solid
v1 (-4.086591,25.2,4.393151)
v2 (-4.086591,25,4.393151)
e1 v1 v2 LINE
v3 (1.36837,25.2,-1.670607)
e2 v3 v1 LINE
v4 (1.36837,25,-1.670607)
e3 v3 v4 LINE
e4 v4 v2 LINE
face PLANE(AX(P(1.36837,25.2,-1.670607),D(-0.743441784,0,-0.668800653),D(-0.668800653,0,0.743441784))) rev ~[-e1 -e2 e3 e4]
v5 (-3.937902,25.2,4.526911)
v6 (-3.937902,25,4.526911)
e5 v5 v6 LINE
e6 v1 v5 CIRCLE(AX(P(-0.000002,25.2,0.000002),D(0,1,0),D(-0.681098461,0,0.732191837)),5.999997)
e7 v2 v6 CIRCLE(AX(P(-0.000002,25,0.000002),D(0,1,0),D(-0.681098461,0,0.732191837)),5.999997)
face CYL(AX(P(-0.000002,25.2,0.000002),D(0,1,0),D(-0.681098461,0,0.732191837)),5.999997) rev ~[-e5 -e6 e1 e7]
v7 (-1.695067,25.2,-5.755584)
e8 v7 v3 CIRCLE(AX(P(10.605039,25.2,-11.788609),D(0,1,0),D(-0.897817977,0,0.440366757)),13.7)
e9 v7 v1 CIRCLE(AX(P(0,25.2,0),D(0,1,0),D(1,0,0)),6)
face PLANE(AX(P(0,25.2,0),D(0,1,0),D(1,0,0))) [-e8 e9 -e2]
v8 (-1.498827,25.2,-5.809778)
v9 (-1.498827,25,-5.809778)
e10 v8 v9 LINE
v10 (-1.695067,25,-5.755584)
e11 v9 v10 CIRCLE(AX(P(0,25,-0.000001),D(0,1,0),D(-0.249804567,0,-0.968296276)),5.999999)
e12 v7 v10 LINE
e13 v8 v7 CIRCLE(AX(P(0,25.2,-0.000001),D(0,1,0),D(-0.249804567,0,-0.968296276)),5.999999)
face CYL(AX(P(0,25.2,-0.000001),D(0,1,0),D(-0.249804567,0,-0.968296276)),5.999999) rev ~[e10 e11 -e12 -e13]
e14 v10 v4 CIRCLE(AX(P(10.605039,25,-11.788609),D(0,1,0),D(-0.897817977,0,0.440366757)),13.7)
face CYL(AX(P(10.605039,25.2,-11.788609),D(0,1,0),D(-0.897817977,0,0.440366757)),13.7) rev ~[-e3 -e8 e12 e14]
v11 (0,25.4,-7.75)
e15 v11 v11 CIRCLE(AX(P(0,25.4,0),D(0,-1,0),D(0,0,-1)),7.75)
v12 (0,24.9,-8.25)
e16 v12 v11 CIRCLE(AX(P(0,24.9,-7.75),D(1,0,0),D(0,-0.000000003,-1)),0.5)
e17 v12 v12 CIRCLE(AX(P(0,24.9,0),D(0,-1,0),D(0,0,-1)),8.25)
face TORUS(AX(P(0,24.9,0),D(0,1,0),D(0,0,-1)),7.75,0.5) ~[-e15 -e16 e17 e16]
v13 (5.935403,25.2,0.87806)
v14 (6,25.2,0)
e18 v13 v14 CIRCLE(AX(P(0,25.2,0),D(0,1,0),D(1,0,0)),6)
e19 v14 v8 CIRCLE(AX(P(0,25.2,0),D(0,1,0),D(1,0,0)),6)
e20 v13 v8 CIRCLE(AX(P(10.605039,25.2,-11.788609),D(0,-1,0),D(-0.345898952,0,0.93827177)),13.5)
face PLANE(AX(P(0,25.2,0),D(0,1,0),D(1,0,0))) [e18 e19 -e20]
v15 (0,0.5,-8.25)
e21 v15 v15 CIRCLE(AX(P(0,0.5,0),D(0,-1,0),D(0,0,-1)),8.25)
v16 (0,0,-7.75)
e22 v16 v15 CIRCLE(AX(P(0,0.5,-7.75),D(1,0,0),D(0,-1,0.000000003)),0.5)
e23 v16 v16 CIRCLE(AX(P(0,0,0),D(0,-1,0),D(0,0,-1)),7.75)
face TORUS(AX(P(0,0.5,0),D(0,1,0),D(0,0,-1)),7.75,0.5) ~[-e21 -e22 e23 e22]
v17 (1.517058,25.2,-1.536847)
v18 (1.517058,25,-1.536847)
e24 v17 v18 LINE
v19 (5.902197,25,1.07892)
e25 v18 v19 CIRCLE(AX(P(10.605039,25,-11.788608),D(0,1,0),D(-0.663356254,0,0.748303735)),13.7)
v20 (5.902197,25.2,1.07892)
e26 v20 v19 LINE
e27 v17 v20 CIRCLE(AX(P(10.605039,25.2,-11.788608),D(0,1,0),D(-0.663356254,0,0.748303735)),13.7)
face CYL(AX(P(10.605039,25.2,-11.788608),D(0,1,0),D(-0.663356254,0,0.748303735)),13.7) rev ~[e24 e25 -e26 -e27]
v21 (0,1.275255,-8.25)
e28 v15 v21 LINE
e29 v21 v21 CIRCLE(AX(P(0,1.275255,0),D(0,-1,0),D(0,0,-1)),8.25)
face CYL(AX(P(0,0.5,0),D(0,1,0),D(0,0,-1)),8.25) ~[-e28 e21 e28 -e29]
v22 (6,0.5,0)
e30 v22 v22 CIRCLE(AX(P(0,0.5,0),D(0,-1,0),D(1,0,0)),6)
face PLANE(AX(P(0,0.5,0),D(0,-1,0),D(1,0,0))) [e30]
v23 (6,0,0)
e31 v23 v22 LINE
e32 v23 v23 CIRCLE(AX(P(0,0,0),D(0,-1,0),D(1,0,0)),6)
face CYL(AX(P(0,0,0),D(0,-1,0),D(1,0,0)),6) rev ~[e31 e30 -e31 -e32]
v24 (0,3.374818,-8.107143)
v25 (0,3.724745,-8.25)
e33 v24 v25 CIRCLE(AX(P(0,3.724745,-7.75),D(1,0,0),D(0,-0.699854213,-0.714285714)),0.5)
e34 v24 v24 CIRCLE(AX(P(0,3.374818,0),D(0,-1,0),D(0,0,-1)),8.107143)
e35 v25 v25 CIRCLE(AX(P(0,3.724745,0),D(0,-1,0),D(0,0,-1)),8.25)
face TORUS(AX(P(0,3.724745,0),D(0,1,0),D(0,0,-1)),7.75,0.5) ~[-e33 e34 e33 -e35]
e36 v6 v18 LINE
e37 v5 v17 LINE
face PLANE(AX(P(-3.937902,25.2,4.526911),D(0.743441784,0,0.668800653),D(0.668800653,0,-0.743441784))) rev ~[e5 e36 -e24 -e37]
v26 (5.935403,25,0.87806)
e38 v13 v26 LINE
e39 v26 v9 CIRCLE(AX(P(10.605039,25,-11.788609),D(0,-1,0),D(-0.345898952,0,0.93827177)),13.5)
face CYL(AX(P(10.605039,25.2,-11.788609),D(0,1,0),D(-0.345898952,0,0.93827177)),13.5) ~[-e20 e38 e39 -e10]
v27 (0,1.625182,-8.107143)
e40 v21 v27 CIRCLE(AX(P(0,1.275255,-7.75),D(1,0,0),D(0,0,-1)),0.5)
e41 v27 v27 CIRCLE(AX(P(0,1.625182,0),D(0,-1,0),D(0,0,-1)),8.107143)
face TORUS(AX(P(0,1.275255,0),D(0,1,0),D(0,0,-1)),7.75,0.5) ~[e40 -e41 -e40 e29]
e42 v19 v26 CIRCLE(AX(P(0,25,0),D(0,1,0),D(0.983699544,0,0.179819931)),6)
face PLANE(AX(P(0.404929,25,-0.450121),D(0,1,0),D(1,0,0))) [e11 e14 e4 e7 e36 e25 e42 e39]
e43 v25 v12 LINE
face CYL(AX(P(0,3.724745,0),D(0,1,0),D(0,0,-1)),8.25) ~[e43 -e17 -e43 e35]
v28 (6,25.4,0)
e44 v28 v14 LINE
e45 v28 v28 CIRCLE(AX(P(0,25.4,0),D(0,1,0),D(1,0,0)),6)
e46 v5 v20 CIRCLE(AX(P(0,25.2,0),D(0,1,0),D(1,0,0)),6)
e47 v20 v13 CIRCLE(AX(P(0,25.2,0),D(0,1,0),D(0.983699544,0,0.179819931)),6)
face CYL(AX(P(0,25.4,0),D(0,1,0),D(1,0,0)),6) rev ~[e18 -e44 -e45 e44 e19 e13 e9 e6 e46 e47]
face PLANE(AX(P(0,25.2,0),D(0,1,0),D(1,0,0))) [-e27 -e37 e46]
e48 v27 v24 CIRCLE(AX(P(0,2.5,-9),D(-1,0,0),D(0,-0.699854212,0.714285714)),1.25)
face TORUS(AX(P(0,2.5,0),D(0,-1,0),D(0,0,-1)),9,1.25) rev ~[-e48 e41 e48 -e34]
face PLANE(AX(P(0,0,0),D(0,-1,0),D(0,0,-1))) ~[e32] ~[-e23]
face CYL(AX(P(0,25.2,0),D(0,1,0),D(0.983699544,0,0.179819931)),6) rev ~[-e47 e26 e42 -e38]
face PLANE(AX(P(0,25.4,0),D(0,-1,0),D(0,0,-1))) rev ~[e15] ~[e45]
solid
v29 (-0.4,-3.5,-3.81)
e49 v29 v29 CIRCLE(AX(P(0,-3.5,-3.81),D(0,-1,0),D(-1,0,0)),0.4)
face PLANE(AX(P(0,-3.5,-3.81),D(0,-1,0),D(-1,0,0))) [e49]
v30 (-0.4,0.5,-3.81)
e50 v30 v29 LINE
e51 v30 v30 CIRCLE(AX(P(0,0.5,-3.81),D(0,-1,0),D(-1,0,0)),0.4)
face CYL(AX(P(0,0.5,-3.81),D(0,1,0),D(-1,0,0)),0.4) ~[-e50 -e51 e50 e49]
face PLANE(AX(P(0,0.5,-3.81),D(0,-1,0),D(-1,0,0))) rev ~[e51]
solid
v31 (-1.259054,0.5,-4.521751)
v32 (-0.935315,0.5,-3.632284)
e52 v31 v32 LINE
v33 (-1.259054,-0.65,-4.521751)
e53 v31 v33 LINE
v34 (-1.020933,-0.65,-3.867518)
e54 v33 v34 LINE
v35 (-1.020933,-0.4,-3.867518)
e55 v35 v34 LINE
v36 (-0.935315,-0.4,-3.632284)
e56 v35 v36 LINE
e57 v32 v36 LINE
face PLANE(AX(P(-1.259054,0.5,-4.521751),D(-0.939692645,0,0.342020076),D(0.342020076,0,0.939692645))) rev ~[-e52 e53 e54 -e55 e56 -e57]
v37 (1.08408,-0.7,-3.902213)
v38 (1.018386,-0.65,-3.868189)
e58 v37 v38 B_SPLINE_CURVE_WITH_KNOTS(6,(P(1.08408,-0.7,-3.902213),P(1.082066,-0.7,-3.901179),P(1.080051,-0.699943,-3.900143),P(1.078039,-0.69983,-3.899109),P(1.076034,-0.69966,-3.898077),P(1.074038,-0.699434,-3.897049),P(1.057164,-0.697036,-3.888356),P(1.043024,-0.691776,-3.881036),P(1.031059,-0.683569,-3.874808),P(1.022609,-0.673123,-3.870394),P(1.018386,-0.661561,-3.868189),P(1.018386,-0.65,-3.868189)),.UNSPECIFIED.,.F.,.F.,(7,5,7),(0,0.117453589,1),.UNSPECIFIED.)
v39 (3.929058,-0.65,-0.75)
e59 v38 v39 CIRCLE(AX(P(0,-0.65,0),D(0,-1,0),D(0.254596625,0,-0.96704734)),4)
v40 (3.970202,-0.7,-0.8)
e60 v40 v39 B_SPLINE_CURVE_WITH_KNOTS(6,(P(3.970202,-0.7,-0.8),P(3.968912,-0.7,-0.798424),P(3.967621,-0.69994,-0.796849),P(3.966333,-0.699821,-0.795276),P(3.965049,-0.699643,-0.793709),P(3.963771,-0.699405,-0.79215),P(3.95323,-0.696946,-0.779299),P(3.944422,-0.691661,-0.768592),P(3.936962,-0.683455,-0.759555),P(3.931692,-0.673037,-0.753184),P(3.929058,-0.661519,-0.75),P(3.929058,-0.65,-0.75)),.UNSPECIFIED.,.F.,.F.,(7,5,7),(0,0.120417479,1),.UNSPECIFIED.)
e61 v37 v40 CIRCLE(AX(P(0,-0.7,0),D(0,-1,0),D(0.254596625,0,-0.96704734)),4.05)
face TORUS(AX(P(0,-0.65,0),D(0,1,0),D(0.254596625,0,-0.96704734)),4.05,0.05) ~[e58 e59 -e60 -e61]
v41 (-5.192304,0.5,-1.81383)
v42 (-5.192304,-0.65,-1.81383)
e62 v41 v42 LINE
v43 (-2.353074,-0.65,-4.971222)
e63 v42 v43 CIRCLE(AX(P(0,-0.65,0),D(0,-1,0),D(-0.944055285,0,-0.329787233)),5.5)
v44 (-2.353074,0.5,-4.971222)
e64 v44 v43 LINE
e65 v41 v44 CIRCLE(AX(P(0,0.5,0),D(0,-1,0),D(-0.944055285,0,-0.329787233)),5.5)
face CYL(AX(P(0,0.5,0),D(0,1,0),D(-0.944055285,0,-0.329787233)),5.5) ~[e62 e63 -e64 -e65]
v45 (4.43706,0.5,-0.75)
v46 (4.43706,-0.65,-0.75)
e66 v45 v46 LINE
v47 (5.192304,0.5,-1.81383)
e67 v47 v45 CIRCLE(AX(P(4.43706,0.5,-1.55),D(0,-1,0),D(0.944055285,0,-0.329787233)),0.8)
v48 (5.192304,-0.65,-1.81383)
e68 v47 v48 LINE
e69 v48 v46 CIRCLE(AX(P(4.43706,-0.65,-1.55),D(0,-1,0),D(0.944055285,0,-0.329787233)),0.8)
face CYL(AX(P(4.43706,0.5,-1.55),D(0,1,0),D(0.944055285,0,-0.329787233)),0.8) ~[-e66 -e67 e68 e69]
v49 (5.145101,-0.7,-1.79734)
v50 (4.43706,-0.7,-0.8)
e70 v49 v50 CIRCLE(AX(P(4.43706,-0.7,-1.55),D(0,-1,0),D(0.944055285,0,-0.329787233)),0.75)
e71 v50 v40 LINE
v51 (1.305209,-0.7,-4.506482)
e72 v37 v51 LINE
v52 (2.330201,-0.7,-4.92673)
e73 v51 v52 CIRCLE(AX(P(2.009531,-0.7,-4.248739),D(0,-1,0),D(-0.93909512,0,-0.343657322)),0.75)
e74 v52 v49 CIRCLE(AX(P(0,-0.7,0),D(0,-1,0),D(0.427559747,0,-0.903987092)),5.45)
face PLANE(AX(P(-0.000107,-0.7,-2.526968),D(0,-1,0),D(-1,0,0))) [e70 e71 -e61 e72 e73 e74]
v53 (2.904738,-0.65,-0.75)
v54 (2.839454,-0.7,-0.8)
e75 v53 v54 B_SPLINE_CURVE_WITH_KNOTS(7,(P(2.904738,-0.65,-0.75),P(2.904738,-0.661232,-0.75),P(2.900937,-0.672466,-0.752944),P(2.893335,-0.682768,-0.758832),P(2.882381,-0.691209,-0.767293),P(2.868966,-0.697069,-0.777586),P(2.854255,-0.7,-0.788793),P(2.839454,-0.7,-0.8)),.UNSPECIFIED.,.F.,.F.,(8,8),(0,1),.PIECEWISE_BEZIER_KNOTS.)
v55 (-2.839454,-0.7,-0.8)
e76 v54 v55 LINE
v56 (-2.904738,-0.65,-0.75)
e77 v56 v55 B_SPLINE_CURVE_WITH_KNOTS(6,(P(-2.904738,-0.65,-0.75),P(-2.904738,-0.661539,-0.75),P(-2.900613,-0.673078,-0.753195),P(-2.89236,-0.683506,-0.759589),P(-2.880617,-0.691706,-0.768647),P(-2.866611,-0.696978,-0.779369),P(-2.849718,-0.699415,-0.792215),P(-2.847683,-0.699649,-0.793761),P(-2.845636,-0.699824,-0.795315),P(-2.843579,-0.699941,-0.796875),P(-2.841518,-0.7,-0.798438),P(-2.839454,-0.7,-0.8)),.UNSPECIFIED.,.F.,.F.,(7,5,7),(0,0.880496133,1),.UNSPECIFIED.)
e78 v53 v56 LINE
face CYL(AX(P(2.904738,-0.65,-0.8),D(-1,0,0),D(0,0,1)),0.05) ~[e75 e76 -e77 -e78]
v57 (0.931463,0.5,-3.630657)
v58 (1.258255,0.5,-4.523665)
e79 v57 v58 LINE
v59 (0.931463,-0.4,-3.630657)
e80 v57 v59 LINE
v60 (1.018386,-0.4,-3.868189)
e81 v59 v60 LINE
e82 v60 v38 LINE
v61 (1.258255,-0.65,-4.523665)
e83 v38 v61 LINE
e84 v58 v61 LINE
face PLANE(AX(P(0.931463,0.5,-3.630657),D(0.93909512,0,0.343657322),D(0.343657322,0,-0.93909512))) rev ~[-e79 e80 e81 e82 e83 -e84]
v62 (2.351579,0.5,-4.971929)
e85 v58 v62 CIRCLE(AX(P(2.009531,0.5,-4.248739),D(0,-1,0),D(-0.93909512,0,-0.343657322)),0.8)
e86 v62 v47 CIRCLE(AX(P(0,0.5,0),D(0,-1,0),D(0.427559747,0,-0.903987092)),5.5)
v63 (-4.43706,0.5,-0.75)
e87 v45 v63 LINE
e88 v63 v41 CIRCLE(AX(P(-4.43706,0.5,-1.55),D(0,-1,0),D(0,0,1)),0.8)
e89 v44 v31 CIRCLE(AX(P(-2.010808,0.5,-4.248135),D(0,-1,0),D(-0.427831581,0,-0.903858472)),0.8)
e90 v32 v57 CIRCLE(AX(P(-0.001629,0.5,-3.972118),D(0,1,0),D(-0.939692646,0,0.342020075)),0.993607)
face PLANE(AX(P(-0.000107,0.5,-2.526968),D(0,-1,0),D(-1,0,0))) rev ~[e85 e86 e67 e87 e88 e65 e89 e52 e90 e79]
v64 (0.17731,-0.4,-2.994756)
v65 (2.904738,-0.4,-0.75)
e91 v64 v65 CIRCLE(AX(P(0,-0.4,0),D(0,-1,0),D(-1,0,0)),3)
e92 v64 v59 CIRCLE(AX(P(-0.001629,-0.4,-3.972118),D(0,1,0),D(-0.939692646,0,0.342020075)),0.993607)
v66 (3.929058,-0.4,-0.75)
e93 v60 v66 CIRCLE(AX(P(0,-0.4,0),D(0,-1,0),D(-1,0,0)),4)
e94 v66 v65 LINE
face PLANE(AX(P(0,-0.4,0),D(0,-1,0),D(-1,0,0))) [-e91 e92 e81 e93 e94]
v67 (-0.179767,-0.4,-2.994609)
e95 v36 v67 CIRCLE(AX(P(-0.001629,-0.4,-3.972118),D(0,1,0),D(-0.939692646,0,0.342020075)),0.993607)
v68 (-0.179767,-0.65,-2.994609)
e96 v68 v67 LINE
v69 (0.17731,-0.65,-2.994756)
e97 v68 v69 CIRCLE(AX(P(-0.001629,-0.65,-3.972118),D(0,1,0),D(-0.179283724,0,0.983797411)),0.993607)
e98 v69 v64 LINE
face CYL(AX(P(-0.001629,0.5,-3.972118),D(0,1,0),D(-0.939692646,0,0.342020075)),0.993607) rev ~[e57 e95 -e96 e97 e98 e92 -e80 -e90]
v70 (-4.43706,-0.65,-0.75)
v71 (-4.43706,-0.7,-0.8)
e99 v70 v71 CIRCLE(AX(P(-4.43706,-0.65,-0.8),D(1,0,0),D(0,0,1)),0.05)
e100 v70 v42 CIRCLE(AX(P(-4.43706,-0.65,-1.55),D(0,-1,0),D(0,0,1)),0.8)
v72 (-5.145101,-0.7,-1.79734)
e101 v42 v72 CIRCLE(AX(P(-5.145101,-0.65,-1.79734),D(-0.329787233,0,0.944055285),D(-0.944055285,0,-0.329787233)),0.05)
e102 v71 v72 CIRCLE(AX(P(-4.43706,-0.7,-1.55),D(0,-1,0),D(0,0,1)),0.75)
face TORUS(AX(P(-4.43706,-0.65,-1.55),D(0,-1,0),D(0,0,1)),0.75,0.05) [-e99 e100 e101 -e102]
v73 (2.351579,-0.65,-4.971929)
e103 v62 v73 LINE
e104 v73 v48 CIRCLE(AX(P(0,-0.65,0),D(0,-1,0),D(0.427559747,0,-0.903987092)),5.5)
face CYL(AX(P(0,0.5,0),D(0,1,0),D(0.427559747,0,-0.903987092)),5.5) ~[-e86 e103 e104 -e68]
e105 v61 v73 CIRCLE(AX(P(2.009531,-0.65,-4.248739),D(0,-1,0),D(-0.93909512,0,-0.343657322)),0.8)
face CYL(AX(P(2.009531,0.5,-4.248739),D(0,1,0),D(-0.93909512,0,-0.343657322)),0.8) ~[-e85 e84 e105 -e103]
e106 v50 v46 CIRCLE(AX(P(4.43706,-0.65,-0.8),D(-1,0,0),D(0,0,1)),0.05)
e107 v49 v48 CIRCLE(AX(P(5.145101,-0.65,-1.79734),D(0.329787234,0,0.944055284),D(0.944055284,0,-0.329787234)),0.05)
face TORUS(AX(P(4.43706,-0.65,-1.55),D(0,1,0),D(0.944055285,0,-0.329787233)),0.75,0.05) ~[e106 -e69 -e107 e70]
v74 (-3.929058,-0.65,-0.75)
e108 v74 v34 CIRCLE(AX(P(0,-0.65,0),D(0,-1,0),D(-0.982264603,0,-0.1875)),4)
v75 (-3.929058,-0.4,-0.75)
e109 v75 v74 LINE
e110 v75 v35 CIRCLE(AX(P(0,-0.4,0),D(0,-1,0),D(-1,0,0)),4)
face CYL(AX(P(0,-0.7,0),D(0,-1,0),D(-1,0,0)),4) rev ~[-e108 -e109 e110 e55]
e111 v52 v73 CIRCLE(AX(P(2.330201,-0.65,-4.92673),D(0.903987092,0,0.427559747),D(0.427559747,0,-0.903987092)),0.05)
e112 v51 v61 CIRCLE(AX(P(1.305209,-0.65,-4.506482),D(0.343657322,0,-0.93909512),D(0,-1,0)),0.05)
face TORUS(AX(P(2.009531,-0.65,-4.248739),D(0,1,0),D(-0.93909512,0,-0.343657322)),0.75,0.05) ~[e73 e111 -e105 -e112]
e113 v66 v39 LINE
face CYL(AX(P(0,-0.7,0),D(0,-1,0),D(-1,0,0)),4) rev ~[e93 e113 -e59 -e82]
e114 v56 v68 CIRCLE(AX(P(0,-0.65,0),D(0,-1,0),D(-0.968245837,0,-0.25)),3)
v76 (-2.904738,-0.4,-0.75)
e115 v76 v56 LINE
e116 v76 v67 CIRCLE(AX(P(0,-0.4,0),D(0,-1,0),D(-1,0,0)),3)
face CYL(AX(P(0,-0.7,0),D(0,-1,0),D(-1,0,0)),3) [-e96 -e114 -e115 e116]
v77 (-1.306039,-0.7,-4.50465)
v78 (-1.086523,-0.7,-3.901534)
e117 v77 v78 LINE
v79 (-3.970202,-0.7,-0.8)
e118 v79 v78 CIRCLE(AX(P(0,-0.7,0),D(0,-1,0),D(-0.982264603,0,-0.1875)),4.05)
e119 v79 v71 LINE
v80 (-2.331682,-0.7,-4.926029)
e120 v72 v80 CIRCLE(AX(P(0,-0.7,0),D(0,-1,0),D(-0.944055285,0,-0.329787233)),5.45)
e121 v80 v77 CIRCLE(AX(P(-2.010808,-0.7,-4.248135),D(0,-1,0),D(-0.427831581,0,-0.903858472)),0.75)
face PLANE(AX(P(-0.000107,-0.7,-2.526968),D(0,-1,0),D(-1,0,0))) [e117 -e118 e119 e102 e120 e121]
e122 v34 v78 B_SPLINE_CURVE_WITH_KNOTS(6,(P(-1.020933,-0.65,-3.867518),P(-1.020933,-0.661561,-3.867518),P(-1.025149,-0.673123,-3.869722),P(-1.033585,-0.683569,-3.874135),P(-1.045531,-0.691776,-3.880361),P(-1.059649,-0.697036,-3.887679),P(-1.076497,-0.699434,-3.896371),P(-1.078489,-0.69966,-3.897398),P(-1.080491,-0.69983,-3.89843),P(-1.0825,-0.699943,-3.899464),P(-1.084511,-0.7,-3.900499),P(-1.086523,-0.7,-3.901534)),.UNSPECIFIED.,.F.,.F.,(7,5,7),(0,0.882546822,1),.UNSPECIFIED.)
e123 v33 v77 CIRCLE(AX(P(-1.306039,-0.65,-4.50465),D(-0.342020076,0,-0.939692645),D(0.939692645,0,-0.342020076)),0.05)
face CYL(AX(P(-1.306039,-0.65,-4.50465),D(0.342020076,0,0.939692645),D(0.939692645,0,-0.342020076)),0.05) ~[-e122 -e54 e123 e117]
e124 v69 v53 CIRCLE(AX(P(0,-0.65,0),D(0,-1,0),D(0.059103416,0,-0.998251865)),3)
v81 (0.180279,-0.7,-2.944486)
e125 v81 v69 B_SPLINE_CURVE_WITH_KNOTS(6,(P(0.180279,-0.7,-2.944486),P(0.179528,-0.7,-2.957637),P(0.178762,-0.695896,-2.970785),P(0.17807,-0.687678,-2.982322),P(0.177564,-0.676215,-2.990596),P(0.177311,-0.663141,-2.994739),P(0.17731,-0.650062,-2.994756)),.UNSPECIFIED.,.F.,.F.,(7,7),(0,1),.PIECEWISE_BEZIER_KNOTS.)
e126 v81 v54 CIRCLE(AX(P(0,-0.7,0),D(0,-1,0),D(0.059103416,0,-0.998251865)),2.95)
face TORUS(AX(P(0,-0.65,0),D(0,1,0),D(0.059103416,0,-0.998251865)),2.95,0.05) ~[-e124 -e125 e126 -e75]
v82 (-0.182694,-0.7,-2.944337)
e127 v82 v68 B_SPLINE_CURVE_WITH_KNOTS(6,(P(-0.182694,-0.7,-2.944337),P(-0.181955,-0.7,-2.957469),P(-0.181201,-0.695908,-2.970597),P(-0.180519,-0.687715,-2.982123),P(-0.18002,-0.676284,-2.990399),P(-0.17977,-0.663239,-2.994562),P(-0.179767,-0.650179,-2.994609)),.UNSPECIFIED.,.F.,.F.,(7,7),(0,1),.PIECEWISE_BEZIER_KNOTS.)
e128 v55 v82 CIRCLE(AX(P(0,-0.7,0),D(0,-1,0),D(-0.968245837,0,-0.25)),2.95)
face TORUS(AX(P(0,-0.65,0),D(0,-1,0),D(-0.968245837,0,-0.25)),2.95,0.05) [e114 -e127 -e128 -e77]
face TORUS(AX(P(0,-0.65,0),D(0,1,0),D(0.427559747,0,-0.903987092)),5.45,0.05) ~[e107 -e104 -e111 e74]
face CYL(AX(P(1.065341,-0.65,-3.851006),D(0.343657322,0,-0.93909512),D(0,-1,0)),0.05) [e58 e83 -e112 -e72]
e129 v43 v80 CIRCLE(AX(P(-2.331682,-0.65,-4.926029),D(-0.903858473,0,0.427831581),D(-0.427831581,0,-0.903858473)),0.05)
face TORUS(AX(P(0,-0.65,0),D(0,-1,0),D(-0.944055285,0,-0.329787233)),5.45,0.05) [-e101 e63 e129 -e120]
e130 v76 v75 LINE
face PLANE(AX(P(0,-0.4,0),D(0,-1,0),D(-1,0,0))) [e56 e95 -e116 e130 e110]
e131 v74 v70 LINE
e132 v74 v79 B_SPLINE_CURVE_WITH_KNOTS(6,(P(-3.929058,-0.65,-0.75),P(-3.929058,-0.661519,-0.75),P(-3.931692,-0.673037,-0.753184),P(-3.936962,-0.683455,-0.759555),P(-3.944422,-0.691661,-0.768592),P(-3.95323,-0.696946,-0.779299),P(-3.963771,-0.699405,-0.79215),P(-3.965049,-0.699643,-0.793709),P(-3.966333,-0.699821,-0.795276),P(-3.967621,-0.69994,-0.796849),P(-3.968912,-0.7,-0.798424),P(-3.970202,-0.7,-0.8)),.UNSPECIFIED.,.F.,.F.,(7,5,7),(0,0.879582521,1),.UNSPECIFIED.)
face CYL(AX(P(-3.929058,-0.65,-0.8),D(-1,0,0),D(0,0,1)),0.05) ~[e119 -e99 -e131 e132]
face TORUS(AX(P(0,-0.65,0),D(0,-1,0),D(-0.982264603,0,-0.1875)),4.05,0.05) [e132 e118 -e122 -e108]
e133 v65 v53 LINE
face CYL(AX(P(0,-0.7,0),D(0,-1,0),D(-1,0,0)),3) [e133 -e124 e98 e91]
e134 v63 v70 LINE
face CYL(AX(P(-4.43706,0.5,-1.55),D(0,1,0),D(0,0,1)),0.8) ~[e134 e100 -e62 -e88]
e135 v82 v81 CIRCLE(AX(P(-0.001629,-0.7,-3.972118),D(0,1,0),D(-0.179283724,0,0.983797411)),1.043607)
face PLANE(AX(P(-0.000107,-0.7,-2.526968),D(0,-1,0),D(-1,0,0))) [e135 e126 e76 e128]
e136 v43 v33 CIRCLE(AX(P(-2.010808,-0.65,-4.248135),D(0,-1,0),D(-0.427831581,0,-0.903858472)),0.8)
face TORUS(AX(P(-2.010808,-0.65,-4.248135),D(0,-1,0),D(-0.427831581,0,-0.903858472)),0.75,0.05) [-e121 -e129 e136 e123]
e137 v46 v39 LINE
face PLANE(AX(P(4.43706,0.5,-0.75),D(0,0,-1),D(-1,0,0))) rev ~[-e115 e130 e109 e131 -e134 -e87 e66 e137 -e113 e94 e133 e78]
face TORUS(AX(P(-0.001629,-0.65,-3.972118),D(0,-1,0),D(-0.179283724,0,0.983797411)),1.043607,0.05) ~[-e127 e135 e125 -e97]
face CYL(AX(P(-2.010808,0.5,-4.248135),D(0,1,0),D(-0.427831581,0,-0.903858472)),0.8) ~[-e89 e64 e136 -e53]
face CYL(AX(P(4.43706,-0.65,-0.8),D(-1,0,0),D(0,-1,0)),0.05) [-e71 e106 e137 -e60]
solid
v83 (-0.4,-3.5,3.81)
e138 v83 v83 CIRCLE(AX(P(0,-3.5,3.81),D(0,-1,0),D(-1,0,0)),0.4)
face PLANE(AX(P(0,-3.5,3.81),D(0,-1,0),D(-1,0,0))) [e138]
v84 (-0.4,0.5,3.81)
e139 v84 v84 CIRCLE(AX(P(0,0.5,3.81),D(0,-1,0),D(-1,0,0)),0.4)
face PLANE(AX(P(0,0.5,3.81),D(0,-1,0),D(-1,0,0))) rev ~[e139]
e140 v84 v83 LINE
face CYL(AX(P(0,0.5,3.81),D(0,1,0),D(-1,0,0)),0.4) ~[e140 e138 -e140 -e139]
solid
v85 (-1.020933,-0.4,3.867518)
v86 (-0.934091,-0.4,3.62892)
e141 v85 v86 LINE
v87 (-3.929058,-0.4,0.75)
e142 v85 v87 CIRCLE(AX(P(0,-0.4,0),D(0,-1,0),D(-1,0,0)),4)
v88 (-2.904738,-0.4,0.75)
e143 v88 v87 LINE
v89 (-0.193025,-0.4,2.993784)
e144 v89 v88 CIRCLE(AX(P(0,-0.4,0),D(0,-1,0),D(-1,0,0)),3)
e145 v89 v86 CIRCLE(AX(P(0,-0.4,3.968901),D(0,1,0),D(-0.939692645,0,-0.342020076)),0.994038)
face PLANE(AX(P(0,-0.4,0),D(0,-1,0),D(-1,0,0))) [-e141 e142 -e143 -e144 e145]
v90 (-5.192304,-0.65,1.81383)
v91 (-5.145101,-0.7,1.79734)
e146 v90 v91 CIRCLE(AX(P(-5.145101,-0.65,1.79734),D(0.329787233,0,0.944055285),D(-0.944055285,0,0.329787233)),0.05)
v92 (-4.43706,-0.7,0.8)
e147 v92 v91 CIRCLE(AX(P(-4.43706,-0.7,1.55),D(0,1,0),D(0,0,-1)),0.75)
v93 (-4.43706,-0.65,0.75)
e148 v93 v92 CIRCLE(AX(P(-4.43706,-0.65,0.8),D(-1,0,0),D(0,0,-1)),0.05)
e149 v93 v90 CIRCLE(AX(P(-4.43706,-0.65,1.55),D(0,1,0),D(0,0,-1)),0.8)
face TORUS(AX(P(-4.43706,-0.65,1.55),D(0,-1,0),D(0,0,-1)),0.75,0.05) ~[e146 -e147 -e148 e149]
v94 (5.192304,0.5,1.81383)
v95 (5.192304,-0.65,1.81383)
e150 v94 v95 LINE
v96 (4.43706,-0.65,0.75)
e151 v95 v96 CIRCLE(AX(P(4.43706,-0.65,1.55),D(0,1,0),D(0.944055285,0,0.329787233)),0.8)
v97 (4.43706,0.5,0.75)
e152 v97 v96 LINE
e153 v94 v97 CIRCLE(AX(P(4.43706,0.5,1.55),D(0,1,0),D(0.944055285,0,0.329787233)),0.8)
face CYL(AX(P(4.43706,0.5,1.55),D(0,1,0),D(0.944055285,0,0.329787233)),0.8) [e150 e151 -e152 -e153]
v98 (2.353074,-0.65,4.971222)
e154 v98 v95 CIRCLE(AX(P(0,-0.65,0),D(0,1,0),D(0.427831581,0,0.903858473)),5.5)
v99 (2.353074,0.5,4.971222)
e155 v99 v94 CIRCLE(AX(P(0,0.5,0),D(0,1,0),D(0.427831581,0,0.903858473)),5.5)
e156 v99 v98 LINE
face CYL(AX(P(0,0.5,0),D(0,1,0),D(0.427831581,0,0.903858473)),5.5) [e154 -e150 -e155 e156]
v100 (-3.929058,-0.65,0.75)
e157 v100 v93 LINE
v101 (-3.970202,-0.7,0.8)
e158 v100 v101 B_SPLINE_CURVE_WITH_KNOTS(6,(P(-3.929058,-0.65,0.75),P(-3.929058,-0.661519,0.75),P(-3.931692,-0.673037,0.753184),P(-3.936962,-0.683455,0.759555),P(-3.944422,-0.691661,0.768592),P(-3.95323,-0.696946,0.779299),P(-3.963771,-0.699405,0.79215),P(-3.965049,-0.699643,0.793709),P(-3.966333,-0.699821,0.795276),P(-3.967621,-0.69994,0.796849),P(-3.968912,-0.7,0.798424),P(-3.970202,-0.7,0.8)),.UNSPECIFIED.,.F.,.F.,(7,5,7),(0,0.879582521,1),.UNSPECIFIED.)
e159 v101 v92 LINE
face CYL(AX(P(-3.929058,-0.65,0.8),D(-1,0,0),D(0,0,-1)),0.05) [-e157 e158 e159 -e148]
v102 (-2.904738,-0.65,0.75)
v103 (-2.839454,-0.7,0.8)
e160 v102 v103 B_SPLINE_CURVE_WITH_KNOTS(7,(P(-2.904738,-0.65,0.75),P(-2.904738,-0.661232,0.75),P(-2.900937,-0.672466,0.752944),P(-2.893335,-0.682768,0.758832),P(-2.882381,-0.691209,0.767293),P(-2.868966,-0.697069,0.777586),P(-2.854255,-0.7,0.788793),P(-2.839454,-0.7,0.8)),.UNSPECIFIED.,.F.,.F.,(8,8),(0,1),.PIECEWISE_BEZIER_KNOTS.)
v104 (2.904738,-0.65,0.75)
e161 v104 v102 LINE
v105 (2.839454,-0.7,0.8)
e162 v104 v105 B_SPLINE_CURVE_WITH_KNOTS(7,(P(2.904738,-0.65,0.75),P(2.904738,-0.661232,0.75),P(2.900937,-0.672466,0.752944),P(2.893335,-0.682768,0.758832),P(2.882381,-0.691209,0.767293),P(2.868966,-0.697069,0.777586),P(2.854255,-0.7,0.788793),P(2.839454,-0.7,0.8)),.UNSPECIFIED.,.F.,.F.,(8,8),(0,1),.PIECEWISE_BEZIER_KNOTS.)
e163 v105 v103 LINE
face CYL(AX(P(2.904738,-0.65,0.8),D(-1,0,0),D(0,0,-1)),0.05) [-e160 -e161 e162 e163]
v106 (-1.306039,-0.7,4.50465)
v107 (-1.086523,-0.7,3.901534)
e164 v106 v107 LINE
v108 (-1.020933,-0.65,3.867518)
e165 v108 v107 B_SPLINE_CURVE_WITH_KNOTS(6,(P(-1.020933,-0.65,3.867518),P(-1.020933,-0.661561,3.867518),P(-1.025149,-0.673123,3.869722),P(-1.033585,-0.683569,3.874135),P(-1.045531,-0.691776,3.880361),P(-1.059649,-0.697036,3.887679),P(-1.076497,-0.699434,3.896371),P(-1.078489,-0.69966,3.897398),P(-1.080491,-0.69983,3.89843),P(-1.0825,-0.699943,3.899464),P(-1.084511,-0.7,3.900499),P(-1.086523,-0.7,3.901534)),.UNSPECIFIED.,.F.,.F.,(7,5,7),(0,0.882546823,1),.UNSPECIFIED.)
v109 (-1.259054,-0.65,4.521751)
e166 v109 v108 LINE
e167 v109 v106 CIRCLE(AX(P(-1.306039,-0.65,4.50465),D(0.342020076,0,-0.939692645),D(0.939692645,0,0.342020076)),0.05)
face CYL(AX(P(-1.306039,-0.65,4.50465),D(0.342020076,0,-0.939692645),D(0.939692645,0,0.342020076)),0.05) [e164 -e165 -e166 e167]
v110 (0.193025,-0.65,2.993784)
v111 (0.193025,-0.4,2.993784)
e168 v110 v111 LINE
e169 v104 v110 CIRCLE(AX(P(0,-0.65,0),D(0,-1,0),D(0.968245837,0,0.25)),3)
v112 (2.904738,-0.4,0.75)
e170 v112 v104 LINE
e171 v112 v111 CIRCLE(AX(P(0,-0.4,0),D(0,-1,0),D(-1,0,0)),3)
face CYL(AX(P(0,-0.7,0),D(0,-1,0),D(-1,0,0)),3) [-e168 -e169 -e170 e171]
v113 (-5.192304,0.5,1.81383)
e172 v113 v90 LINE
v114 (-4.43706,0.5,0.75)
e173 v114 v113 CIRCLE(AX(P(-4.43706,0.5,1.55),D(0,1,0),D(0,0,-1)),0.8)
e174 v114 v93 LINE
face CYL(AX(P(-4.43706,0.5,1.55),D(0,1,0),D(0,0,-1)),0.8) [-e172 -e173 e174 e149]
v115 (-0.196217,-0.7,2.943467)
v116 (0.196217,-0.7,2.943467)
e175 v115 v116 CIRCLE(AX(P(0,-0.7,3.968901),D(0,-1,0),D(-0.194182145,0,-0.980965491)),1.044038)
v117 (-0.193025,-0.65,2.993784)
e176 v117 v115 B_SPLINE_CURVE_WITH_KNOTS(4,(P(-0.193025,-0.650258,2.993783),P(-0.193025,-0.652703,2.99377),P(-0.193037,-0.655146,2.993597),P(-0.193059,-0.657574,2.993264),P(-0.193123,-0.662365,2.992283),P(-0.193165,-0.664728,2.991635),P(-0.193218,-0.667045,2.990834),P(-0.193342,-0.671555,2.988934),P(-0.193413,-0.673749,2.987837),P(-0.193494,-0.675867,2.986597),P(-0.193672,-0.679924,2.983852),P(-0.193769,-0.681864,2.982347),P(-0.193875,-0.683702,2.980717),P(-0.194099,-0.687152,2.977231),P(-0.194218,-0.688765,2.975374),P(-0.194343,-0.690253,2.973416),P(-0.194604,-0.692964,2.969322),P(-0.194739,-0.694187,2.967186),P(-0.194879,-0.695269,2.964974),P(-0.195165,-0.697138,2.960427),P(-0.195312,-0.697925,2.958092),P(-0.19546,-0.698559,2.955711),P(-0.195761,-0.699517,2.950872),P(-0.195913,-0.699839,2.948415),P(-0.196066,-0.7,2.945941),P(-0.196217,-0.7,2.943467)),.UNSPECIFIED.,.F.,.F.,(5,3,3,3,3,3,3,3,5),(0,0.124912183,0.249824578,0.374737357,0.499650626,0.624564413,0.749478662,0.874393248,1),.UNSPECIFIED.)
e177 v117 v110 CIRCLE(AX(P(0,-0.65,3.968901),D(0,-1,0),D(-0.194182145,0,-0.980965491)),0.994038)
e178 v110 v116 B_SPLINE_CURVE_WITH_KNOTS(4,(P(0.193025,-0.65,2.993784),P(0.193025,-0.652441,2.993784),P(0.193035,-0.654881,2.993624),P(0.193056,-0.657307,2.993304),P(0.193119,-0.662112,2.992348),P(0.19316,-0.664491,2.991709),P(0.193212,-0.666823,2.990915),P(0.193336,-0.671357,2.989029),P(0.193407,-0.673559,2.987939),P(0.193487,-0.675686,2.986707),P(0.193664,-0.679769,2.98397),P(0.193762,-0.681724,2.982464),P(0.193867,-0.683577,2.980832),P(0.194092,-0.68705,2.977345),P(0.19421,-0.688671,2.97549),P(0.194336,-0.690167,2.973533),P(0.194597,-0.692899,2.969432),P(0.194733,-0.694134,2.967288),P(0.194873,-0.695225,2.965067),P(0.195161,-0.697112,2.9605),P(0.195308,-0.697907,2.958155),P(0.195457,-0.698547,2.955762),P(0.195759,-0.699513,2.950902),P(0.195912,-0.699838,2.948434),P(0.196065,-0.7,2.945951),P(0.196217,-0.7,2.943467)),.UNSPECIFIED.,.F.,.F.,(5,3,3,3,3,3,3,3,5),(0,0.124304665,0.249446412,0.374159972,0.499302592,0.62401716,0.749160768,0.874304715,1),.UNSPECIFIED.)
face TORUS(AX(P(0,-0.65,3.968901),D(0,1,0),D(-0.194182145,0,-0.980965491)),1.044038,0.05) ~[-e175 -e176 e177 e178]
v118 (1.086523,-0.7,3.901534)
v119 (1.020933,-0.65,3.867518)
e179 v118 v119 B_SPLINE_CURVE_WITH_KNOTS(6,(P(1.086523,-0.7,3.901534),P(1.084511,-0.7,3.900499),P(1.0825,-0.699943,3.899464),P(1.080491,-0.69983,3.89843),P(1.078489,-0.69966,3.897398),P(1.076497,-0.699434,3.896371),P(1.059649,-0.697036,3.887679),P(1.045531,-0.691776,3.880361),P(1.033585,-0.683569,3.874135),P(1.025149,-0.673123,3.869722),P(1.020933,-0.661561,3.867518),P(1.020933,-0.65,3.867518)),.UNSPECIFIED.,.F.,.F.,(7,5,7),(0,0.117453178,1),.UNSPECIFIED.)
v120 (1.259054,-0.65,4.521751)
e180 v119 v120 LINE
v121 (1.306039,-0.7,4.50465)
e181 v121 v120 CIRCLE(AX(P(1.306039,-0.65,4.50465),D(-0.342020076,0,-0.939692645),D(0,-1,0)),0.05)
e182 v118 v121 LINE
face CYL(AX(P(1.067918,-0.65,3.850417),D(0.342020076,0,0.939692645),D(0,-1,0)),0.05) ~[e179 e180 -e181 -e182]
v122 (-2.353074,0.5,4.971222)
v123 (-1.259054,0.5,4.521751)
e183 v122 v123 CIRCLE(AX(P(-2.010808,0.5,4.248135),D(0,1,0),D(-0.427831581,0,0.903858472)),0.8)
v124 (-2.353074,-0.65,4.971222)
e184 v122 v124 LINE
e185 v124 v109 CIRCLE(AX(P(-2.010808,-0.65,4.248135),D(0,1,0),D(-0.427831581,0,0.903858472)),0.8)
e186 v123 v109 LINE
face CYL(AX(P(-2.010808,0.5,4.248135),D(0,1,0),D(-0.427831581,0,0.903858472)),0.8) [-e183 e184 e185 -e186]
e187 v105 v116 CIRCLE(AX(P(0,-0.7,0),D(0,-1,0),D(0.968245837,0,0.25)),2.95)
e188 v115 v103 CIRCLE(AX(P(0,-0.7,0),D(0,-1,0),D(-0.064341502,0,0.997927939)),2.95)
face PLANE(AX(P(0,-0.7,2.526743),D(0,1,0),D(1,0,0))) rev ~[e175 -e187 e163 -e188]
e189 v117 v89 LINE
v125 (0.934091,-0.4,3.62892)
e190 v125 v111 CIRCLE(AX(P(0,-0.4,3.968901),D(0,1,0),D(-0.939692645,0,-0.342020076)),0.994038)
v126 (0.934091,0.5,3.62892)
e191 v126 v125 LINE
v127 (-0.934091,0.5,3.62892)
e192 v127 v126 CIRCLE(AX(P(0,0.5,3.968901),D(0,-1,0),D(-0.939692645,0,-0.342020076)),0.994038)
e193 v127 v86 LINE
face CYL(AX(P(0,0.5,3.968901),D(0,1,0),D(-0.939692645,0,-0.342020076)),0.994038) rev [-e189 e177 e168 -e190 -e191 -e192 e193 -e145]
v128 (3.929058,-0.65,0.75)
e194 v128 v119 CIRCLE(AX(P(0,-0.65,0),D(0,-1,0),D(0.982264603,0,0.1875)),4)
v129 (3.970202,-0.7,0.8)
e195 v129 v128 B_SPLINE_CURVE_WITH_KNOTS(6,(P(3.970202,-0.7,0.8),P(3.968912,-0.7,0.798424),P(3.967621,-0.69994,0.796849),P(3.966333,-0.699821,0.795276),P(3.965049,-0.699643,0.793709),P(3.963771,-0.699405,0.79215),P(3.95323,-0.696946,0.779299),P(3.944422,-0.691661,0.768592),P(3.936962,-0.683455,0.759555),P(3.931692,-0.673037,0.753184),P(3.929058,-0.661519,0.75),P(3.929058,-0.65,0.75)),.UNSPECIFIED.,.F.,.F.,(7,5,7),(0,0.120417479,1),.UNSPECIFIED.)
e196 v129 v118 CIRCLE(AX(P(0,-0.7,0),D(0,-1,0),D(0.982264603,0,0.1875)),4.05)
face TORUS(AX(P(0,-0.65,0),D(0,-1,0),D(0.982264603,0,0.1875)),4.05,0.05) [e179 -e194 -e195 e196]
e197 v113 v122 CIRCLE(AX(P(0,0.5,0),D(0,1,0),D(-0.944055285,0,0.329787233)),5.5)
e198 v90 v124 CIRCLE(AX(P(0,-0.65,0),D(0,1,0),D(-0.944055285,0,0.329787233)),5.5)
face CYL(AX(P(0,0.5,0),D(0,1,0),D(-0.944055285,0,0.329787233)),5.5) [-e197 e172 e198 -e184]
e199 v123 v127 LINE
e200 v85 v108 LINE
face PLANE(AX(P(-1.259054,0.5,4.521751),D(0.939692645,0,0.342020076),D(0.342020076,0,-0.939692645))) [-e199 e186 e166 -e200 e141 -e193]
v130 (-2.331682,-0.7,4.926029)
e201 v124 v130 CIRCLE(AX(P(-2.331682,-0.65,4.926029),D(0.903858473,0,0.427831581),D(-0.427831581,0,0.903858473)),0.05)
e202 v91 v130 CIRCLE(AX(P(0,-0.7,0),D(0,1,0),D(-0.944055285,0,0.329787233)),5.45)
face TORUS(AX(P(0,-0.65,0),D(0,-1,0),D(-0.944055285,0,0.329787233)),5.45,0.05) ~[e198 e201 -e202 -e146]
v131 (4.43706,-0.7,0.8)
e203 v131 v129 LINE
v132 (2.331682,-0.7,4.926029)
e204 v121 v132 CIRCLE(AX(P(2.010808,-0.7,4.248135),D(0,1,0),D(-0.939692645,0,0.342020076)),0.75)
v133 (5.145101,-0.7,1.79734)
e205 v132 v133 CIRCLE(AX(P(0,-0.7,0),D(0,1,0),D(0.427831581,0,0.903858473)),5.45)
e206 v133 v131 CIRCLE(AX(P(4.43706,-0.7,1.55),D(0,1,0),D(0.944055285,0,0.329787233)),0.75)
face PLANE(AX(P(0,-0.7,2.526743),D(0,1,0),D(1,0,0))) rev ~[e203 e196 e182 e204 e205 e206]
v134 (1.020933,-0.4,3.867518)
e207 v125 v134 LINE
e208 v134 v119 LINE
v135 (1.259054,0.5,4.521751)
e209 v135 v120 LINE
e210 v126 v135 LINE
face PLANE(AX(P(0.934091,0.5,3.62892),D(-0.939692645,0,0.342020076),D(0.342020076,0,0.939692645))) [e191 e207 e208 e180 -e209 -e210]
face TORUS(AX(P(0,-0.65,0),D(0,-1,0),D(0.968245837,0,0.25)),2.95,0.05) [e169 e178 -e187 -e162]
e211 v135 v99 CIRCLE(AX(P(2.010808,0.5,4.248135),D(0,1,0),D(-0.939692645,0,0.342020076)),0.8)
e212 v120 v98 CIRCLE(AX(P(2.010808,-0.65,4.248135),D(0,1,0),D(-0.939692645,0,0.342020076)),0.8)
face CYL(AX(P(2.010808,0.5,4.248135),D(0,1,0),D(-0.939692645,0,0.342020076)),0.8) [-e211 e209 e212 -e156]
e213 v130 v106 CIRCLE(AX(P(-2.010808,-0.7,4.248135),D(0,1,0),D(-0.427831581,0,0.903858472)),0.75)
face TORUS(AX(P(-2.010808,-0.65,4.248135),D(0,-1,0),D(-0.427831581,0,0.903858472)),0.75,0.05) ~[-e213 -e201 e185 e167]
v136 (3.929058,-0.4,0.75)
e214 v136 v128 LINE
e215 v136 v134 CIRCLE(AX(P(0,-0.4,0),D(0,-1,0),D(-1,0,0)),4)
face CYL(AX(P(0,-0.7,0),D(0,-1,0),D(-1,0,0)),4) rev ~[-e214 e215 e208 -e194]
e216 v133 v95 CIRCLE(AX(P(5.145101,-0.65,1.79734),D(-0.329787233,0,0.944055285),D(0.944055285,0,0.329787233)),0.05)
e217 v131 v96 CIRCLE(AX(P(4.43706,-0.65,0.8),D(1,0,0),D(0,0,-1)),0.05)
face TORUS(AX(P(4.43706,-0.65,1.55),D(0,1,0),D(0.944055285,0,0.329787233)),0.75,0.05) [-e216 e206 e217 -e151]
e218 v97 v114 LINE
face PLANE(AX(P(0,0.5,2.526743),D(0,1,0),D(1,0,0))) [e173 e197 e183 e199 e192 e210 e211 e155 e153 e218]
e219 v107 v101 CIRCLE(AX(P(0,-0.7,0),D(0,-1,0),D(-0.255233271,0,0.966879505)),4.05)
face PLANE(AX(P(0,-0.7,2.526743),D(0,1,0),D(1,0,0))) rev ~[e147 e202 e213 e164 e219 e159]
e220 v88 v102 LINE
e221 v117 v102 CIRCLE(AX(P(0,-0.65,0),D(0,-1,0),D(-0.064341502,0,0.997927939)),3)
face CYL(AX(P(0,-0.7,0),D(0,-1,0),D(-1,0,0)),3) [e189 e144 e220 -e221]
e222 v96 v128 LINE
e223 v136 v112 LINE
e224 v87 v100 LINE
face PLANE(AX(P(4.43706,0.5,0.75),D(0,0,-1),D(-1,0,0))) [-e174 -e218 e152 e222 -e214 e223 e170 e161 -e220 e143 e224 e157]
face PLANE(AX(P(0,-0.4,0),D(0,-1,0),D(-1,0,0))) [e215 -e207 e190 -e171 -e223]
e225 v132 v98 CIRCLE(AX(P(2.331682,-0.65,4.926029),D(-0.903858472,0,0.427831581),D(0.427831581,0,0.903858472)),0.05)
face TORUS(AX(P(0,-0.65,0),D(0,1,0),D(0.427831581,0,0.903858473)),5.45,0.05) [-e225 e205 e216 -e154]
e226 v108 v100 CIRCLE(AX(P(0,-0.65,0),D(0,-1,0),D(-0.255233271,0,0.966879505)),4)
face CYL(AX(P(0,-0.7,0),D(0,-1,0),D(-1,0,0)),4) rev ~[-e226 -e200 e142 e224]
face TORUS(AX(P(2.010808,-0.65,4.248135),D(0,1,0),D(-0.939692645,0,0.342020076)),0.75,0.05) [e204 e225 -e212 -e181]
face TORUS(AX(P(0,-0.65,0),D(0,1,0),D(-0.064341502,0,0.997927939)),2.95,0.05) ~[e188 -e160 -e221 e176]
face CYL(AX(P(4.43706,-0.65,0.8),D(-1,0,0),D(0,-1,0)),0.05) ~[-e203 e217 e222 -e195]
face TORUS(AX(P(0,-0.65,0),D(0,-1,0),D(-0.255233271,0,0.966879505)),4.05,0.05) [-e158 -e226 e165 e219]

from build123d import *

# Parameters (mm, degrees)
SZKIC2_R                      = 6
WYTNIJ_WYCI_GNI_CIE1_DEPTH    = 0.2
WYTNIJ_WYCI_GNI_CIE2_DEPTH    = 0.2
SZKIC4_R                      = 6
WYTNIJ_WYCI_GNI_CIE3_DEPTH    = 0.5
SZKIC10_R                     = 0.4
DODANIE_WYCI_GNI_CIE1_DEPTH   = 4
DODANIE_WYCI_GNI_CIE1_2_DEPTH = 4
DODANIE_WYCI_GNI_CIE2_DEPTH   = 1.2
DODANIE_WYCI_GNI_CIE2_2_DEPTH = 1.2
SZKIC12_R                     = 4
SZKIC12_R_2                   = 3
WYTNIJ_WYCI_GNI_CIE4_DEPTH    = 0.3
ZAOKR_GLENIE1_R               = 0.05
ZAOKR_GLENIE2_R               = 0.05


with BuildPart() as part:
    # Szkic1 → Obrót1 (revolve)
    with BuildSketch(Plane(origin=(0, 0, 0), x_dir=(0, 0, -1), z_dir=(1, 0, 0))):
        with BuildLine():
            Line((0, 0), (7.75, 0))
            ThreePointArc((7.75, 0), (8.103553391, 0.146446609), (8.25, 0.5))
            Line((8.25, 0.5), (8.25, 1.275255129))
            ThreePointArc((8.25, 1.275255129), (8.21291005, 1.464237365), (8.107142857, 1.625182235))
            ThreePointArc((8.107142857, 1.625182235), (7.75, 2.5), (8.107142857, 3.374817765))
            ThreePointArc((8.107142857, 3.374817765), (8.21291005, 3.535762635), (8.25, 3.724744871))
            Line((8.25, 3.724744871), (8.25, 24.9))
            ThreePointArc((8.25, 24.9), (8.103553391, 25.253553391), (7.75, 25.4))
            Line((7.75, 25.4), (0, 25.4))
            Line((0, 25.4), (0, 0))
        make_face()
    revolve(axis=Axis((0, 25.4, 0), (0, -1, 0)))

    # Szkic2 → Wytnij-wyciągnięcie1 (cut)
    with BuildSketch(Plane(origin=(0, 25.4, 0), x_dir=(1, 0, 0), z_dir=(0, 1, 0))):
        Circle(SZKIC2_R)
    extrude(amount=-WYTNIJ_WYCI_GNI_CIE1_DEPTH, mode=Mode.SUBTRACT)

    # Szkic3 → Wytnij-wyciągnięcie2 (cut)
    with BuildSketch(Plane(origin=(0, 25.2, 0), x_dir=(1, 0, 0), z_dir=(0, 1, 0))):
        with BuildLine():
            Line((1.368369919, 1.670607479), (-4.086590726, -4.39315106))
            ThreePointArc((-4.086590726, -4.39315106), (-4.01280392, -4.460650704), (-3.937902369, -4.526911191))
            Line((-3.937902369, -4.526911191), (1.517058276, 1.536847349))
            ThreePointArc((1.517058276, 1.536847349), (3.58668768, 0.022863948), (5.90219726, -1.078919601))
            ThreePointArc((5.90219726, -1.078919601), (5.919652159, -0.978630837), (5.935403101, -0.878060377))
            ThreePointArc((5.935403101, -0.878060377), (1.576230137, 1.752144438), (-1.498827426, 5.80977765))
            ThreePointArc((-1.498827426, 5.80977765), (-1.59717725, 5.783513191), (-1.69506733, 5.755583962))
            ThreePointArc((-1.69506733, 5.755583962), (-0.355341103, 3.569115293), (1.368369919, 1.670607479))
        make_face()
    extrude(amount=-WYTNIJ_WYCI_GNI_CIE2_DEPTH, mode=Mode.SUBTRACT)

    # Szkic4 → Wytnij-wyciągnięcie3 (cut)
    with BuildSketch(Plane.XZ):
        Circle(SZKIC4_R)
    extrude(amount=-WYTNIJ_WYCI_GNI_CIE3_DEPTH, mode=Mode.SUBTRACT)


with BuildPart() as body_2:
    # Szkic10 → Dodanie-wyciągnięcie1 (new body)
    with BuildSketch(Plane(origin=(0, 0.5, 0), x_dir=(-1, 0, 0), z_dir=(0, -1, 0))):
        with Locations((0, -3.81)):
            Circle(SZKIC10_R)
    extrude(amount=DODANIE_WYCI_GNI_CIE1_DEPTH)


with BuildPart() as body_3:
    # Szkic10 → Dodanie-wyci_gni_cie1 2 (new body)
    with BuildSketch(Plane(origin=(0, 0.5, 0), x_dir=(-1, 0, 0), z_dir=(0, -1, 0))):
        with Locations((0, 3.81)):
            Circle(SZKIC10_R)
    extrude(amount=DODANIE_WYCI_GNI_CIE1_2_DEPTH)


with BuildPart() as body_4:
    # Szkic11 → Dodanie-wyciągnięcie2 (new body)
    with BuildSketch(Plane(origin=(0, 0.5, 0), x_dir=(-1, 0, 0), z_dir=(0, -1, 0))):
        with BuildLine():
            Line((-0.934090555, -3.628920082), (-1.259054317, -4.52175088))
            ThreePointArc((-1.259054317, -4.52175088), (-1.706791557, -4.988117075), (-2.353073698, -4.971221597))
            ThreePointArc((-2.353073698, -4.971221597), (-4.089677513, -3.677572276), (-5.192304065, -1.813829787))
            ThreePointArc((-5.192304065, -1.813829787), (-5.08938791, -1.086893009), (-4.437059837, -0.75))
            Line((-4.437059837, -0.75), (4.437059837, -0.75))
            ThreePointArc((4.437059837, -0.75), (5.08938791, -1.086893009), (5.192304065, -1.813829787))
            ThreePointArc((5.192304065, -1.813829787), (4.089677513, -3.677572276), (2.353073698, -4.971221597))
            ThreePointArc((2.353073698, -4.971221597), (1.706791557, -4.988117075), (1.259054317, -4.52175088))
            Line((1.259054317, -4.52175088), (0.934090555, -3.628920082))
            ThreePointArc((0.934090555, -3.628920082), (0, -2.974862784), (-0.934090555, -3.628920082))
        make_face()
    extrude(amount=DODANIE_WYCI_GNI_CIE2_DEPTH)


with BuildPart() as body_5:
    # Szkic11 → Dodanie-wyci_gni_cie2 2 (new body)
    with BuildSketch(Plane(origin=(0, 0.5, 0), x_dir=(-1, 0, 0), z_dir=(0, -1, 0))):
        with BuildLine():
            Line((-4.437059837, 0.75), (4.437059837, 0.75))
            ThreePointArc((4.437059837, 0.75), (5.08938791, 1.086893009), (5.192304065, 1.813829787))
            ThreePointArc((5.192304065, 1.813829787), (4.089677513, 3.677572276), (2.353073698, 4.971221597))
            ThreePointArc((2.353073698, 4.971221597), (1.706791557, 4.988117075), (1.259054317, 4.52175088))
            Line((1.259054317, 4.52175088), (0.935314887, 3.632283908))
            ThreePointArc((0.935314887, 3.632283908), (0.002495095, 2.978510498), (-0.931462726, 3.630657127))
            Line((-0.931462726, 3.630657127), (-1.258254713, 4.523665192))
            ThreePointArc((-1.258254713, 4.523665192), (-1.706047593, 4.988940616), (-2.351578607, 4.971929008))
            ThreePointArc((-2.351578607, 4.971929008), (-4.089124492, 3.678187174), (-5.192304065, 1.813829787))
            ThreePointArc((-5.192304065, 1.813829787), (-5.08938791, 1.086893009), (-4.437059837, 0.75))
        make_face()
    extrude(amount=DODANIE_WYCI_GNI_CIE2_2_DEPTH)


with BuildPart() as wytnij_wyci_gni_cie4_tool:
    # Szkic12 → Wytnij-wyciągnięcie4 (new body)
    with BuildSketch(Plane(origin=(0, -0.7, 0), x_dir=(-1, 0, 0), z_dir=(0, -1, 0))):
        Circle(SZKIC12_R)
        Circle(SZKIC12_R_2, mode=Mode.SUBTRACT)
    extrude(amount=-WYTNIJ_WYCI_GNI_CIE4_DEPTH)


with BuildPart() as body_5_1:
    add(body_5.part)

    # Wytnij-wyciągnięcie4: cut by wytnij_wyci_gni_cie4_tool
    add(wytnij_wyci_gni_cie4_tool.part, mode=Mode.SUBTRACT)

    # Zaokrąglenie2
    zaokr_glenie2_edges = [body_5_1.edges().sort_by_distance(p)[0] for p in [
        (1.706047593, -0.7, -4.988940616),
        (4.089124492, -0.7, -3.678187174),
        (5.08938791, -0.7, -1.086893009),
        (4.183059124, -0.7, -0.75),
        (-5.08938791, -0.7, -1.086893009),
        (-4.089677513, -0.7, -3.677572276),
        (-1.706791557, -0.7, -4.988117075),
        (-0.001221684, -0.7, -2.978510204),
        (1.138320606, -0.7, -4.195927277),
        (0, -0.7, -0.75),
        (-1.1399937, -0.7, -4.19463445),
        (-4.183059124, -0.7, -0.75),
        (-1.907382861, -0.7, -2.315575657),
        (-2.924950188, -0.7, -2.728491598),
        (2.924051814, -0.7, -2.729454339),
        (1.90643293, -0.7, -2.316357806),
    ]]
    fillet(zaokr_glenie2_edges, radius=ZAOKR_GLENIE2_R)


with BuildPart() as body_4_1:
    add(body_4.part)

    # Wytnij-wyciągnięcie4: cut by wytnij_wyci_gni_cie4_tool
    add(wytnij_wyci_gni_cie4_tool.part, mode=Mode.SUBTRACT)

    # Zaokrąglenie1
    zaokr_glenie1_edges = [body_4_1.edges().sort_by_distance(p)[0] for p in [
        (-1.706791557, -0.7, 4.988117075),
        (-4.089677513, -0.7, 3.677572276),
        (-5.08938791, -0.7, 1.086893009),
        (-4.183059124, -0.7, 0.75),
        (5.08938791, -0.7, 1.086893009),
        (4.089677513, -0.7, 3.677572276),
        (1.706791557, -0.7, 4.988117075),
        (0, -0.7, 2.974862784),
        (-1.1399937, -0.7, 4.19463445),
        (1.1399937, -0.7, 4.19463445),
        (0, -0.7, 0.75),
        (4.183059124, -0.7, 0.75),
        (-1.912504596, -0.7, 2.311347263),
        (-2.924950188, -0.7, 2.728491598),
        (2.924950188, -0.7, 2.728491598),
        (1.912504596, -0.7, 2.311347263),
    ]]
    fillet(zaokr_glenie1_edges, radius=ZAOKR_GLENIE1_R)


solid = Compound([part.part, body_2.part, body_3.part, body_5_1.part, body_4_1.part])
